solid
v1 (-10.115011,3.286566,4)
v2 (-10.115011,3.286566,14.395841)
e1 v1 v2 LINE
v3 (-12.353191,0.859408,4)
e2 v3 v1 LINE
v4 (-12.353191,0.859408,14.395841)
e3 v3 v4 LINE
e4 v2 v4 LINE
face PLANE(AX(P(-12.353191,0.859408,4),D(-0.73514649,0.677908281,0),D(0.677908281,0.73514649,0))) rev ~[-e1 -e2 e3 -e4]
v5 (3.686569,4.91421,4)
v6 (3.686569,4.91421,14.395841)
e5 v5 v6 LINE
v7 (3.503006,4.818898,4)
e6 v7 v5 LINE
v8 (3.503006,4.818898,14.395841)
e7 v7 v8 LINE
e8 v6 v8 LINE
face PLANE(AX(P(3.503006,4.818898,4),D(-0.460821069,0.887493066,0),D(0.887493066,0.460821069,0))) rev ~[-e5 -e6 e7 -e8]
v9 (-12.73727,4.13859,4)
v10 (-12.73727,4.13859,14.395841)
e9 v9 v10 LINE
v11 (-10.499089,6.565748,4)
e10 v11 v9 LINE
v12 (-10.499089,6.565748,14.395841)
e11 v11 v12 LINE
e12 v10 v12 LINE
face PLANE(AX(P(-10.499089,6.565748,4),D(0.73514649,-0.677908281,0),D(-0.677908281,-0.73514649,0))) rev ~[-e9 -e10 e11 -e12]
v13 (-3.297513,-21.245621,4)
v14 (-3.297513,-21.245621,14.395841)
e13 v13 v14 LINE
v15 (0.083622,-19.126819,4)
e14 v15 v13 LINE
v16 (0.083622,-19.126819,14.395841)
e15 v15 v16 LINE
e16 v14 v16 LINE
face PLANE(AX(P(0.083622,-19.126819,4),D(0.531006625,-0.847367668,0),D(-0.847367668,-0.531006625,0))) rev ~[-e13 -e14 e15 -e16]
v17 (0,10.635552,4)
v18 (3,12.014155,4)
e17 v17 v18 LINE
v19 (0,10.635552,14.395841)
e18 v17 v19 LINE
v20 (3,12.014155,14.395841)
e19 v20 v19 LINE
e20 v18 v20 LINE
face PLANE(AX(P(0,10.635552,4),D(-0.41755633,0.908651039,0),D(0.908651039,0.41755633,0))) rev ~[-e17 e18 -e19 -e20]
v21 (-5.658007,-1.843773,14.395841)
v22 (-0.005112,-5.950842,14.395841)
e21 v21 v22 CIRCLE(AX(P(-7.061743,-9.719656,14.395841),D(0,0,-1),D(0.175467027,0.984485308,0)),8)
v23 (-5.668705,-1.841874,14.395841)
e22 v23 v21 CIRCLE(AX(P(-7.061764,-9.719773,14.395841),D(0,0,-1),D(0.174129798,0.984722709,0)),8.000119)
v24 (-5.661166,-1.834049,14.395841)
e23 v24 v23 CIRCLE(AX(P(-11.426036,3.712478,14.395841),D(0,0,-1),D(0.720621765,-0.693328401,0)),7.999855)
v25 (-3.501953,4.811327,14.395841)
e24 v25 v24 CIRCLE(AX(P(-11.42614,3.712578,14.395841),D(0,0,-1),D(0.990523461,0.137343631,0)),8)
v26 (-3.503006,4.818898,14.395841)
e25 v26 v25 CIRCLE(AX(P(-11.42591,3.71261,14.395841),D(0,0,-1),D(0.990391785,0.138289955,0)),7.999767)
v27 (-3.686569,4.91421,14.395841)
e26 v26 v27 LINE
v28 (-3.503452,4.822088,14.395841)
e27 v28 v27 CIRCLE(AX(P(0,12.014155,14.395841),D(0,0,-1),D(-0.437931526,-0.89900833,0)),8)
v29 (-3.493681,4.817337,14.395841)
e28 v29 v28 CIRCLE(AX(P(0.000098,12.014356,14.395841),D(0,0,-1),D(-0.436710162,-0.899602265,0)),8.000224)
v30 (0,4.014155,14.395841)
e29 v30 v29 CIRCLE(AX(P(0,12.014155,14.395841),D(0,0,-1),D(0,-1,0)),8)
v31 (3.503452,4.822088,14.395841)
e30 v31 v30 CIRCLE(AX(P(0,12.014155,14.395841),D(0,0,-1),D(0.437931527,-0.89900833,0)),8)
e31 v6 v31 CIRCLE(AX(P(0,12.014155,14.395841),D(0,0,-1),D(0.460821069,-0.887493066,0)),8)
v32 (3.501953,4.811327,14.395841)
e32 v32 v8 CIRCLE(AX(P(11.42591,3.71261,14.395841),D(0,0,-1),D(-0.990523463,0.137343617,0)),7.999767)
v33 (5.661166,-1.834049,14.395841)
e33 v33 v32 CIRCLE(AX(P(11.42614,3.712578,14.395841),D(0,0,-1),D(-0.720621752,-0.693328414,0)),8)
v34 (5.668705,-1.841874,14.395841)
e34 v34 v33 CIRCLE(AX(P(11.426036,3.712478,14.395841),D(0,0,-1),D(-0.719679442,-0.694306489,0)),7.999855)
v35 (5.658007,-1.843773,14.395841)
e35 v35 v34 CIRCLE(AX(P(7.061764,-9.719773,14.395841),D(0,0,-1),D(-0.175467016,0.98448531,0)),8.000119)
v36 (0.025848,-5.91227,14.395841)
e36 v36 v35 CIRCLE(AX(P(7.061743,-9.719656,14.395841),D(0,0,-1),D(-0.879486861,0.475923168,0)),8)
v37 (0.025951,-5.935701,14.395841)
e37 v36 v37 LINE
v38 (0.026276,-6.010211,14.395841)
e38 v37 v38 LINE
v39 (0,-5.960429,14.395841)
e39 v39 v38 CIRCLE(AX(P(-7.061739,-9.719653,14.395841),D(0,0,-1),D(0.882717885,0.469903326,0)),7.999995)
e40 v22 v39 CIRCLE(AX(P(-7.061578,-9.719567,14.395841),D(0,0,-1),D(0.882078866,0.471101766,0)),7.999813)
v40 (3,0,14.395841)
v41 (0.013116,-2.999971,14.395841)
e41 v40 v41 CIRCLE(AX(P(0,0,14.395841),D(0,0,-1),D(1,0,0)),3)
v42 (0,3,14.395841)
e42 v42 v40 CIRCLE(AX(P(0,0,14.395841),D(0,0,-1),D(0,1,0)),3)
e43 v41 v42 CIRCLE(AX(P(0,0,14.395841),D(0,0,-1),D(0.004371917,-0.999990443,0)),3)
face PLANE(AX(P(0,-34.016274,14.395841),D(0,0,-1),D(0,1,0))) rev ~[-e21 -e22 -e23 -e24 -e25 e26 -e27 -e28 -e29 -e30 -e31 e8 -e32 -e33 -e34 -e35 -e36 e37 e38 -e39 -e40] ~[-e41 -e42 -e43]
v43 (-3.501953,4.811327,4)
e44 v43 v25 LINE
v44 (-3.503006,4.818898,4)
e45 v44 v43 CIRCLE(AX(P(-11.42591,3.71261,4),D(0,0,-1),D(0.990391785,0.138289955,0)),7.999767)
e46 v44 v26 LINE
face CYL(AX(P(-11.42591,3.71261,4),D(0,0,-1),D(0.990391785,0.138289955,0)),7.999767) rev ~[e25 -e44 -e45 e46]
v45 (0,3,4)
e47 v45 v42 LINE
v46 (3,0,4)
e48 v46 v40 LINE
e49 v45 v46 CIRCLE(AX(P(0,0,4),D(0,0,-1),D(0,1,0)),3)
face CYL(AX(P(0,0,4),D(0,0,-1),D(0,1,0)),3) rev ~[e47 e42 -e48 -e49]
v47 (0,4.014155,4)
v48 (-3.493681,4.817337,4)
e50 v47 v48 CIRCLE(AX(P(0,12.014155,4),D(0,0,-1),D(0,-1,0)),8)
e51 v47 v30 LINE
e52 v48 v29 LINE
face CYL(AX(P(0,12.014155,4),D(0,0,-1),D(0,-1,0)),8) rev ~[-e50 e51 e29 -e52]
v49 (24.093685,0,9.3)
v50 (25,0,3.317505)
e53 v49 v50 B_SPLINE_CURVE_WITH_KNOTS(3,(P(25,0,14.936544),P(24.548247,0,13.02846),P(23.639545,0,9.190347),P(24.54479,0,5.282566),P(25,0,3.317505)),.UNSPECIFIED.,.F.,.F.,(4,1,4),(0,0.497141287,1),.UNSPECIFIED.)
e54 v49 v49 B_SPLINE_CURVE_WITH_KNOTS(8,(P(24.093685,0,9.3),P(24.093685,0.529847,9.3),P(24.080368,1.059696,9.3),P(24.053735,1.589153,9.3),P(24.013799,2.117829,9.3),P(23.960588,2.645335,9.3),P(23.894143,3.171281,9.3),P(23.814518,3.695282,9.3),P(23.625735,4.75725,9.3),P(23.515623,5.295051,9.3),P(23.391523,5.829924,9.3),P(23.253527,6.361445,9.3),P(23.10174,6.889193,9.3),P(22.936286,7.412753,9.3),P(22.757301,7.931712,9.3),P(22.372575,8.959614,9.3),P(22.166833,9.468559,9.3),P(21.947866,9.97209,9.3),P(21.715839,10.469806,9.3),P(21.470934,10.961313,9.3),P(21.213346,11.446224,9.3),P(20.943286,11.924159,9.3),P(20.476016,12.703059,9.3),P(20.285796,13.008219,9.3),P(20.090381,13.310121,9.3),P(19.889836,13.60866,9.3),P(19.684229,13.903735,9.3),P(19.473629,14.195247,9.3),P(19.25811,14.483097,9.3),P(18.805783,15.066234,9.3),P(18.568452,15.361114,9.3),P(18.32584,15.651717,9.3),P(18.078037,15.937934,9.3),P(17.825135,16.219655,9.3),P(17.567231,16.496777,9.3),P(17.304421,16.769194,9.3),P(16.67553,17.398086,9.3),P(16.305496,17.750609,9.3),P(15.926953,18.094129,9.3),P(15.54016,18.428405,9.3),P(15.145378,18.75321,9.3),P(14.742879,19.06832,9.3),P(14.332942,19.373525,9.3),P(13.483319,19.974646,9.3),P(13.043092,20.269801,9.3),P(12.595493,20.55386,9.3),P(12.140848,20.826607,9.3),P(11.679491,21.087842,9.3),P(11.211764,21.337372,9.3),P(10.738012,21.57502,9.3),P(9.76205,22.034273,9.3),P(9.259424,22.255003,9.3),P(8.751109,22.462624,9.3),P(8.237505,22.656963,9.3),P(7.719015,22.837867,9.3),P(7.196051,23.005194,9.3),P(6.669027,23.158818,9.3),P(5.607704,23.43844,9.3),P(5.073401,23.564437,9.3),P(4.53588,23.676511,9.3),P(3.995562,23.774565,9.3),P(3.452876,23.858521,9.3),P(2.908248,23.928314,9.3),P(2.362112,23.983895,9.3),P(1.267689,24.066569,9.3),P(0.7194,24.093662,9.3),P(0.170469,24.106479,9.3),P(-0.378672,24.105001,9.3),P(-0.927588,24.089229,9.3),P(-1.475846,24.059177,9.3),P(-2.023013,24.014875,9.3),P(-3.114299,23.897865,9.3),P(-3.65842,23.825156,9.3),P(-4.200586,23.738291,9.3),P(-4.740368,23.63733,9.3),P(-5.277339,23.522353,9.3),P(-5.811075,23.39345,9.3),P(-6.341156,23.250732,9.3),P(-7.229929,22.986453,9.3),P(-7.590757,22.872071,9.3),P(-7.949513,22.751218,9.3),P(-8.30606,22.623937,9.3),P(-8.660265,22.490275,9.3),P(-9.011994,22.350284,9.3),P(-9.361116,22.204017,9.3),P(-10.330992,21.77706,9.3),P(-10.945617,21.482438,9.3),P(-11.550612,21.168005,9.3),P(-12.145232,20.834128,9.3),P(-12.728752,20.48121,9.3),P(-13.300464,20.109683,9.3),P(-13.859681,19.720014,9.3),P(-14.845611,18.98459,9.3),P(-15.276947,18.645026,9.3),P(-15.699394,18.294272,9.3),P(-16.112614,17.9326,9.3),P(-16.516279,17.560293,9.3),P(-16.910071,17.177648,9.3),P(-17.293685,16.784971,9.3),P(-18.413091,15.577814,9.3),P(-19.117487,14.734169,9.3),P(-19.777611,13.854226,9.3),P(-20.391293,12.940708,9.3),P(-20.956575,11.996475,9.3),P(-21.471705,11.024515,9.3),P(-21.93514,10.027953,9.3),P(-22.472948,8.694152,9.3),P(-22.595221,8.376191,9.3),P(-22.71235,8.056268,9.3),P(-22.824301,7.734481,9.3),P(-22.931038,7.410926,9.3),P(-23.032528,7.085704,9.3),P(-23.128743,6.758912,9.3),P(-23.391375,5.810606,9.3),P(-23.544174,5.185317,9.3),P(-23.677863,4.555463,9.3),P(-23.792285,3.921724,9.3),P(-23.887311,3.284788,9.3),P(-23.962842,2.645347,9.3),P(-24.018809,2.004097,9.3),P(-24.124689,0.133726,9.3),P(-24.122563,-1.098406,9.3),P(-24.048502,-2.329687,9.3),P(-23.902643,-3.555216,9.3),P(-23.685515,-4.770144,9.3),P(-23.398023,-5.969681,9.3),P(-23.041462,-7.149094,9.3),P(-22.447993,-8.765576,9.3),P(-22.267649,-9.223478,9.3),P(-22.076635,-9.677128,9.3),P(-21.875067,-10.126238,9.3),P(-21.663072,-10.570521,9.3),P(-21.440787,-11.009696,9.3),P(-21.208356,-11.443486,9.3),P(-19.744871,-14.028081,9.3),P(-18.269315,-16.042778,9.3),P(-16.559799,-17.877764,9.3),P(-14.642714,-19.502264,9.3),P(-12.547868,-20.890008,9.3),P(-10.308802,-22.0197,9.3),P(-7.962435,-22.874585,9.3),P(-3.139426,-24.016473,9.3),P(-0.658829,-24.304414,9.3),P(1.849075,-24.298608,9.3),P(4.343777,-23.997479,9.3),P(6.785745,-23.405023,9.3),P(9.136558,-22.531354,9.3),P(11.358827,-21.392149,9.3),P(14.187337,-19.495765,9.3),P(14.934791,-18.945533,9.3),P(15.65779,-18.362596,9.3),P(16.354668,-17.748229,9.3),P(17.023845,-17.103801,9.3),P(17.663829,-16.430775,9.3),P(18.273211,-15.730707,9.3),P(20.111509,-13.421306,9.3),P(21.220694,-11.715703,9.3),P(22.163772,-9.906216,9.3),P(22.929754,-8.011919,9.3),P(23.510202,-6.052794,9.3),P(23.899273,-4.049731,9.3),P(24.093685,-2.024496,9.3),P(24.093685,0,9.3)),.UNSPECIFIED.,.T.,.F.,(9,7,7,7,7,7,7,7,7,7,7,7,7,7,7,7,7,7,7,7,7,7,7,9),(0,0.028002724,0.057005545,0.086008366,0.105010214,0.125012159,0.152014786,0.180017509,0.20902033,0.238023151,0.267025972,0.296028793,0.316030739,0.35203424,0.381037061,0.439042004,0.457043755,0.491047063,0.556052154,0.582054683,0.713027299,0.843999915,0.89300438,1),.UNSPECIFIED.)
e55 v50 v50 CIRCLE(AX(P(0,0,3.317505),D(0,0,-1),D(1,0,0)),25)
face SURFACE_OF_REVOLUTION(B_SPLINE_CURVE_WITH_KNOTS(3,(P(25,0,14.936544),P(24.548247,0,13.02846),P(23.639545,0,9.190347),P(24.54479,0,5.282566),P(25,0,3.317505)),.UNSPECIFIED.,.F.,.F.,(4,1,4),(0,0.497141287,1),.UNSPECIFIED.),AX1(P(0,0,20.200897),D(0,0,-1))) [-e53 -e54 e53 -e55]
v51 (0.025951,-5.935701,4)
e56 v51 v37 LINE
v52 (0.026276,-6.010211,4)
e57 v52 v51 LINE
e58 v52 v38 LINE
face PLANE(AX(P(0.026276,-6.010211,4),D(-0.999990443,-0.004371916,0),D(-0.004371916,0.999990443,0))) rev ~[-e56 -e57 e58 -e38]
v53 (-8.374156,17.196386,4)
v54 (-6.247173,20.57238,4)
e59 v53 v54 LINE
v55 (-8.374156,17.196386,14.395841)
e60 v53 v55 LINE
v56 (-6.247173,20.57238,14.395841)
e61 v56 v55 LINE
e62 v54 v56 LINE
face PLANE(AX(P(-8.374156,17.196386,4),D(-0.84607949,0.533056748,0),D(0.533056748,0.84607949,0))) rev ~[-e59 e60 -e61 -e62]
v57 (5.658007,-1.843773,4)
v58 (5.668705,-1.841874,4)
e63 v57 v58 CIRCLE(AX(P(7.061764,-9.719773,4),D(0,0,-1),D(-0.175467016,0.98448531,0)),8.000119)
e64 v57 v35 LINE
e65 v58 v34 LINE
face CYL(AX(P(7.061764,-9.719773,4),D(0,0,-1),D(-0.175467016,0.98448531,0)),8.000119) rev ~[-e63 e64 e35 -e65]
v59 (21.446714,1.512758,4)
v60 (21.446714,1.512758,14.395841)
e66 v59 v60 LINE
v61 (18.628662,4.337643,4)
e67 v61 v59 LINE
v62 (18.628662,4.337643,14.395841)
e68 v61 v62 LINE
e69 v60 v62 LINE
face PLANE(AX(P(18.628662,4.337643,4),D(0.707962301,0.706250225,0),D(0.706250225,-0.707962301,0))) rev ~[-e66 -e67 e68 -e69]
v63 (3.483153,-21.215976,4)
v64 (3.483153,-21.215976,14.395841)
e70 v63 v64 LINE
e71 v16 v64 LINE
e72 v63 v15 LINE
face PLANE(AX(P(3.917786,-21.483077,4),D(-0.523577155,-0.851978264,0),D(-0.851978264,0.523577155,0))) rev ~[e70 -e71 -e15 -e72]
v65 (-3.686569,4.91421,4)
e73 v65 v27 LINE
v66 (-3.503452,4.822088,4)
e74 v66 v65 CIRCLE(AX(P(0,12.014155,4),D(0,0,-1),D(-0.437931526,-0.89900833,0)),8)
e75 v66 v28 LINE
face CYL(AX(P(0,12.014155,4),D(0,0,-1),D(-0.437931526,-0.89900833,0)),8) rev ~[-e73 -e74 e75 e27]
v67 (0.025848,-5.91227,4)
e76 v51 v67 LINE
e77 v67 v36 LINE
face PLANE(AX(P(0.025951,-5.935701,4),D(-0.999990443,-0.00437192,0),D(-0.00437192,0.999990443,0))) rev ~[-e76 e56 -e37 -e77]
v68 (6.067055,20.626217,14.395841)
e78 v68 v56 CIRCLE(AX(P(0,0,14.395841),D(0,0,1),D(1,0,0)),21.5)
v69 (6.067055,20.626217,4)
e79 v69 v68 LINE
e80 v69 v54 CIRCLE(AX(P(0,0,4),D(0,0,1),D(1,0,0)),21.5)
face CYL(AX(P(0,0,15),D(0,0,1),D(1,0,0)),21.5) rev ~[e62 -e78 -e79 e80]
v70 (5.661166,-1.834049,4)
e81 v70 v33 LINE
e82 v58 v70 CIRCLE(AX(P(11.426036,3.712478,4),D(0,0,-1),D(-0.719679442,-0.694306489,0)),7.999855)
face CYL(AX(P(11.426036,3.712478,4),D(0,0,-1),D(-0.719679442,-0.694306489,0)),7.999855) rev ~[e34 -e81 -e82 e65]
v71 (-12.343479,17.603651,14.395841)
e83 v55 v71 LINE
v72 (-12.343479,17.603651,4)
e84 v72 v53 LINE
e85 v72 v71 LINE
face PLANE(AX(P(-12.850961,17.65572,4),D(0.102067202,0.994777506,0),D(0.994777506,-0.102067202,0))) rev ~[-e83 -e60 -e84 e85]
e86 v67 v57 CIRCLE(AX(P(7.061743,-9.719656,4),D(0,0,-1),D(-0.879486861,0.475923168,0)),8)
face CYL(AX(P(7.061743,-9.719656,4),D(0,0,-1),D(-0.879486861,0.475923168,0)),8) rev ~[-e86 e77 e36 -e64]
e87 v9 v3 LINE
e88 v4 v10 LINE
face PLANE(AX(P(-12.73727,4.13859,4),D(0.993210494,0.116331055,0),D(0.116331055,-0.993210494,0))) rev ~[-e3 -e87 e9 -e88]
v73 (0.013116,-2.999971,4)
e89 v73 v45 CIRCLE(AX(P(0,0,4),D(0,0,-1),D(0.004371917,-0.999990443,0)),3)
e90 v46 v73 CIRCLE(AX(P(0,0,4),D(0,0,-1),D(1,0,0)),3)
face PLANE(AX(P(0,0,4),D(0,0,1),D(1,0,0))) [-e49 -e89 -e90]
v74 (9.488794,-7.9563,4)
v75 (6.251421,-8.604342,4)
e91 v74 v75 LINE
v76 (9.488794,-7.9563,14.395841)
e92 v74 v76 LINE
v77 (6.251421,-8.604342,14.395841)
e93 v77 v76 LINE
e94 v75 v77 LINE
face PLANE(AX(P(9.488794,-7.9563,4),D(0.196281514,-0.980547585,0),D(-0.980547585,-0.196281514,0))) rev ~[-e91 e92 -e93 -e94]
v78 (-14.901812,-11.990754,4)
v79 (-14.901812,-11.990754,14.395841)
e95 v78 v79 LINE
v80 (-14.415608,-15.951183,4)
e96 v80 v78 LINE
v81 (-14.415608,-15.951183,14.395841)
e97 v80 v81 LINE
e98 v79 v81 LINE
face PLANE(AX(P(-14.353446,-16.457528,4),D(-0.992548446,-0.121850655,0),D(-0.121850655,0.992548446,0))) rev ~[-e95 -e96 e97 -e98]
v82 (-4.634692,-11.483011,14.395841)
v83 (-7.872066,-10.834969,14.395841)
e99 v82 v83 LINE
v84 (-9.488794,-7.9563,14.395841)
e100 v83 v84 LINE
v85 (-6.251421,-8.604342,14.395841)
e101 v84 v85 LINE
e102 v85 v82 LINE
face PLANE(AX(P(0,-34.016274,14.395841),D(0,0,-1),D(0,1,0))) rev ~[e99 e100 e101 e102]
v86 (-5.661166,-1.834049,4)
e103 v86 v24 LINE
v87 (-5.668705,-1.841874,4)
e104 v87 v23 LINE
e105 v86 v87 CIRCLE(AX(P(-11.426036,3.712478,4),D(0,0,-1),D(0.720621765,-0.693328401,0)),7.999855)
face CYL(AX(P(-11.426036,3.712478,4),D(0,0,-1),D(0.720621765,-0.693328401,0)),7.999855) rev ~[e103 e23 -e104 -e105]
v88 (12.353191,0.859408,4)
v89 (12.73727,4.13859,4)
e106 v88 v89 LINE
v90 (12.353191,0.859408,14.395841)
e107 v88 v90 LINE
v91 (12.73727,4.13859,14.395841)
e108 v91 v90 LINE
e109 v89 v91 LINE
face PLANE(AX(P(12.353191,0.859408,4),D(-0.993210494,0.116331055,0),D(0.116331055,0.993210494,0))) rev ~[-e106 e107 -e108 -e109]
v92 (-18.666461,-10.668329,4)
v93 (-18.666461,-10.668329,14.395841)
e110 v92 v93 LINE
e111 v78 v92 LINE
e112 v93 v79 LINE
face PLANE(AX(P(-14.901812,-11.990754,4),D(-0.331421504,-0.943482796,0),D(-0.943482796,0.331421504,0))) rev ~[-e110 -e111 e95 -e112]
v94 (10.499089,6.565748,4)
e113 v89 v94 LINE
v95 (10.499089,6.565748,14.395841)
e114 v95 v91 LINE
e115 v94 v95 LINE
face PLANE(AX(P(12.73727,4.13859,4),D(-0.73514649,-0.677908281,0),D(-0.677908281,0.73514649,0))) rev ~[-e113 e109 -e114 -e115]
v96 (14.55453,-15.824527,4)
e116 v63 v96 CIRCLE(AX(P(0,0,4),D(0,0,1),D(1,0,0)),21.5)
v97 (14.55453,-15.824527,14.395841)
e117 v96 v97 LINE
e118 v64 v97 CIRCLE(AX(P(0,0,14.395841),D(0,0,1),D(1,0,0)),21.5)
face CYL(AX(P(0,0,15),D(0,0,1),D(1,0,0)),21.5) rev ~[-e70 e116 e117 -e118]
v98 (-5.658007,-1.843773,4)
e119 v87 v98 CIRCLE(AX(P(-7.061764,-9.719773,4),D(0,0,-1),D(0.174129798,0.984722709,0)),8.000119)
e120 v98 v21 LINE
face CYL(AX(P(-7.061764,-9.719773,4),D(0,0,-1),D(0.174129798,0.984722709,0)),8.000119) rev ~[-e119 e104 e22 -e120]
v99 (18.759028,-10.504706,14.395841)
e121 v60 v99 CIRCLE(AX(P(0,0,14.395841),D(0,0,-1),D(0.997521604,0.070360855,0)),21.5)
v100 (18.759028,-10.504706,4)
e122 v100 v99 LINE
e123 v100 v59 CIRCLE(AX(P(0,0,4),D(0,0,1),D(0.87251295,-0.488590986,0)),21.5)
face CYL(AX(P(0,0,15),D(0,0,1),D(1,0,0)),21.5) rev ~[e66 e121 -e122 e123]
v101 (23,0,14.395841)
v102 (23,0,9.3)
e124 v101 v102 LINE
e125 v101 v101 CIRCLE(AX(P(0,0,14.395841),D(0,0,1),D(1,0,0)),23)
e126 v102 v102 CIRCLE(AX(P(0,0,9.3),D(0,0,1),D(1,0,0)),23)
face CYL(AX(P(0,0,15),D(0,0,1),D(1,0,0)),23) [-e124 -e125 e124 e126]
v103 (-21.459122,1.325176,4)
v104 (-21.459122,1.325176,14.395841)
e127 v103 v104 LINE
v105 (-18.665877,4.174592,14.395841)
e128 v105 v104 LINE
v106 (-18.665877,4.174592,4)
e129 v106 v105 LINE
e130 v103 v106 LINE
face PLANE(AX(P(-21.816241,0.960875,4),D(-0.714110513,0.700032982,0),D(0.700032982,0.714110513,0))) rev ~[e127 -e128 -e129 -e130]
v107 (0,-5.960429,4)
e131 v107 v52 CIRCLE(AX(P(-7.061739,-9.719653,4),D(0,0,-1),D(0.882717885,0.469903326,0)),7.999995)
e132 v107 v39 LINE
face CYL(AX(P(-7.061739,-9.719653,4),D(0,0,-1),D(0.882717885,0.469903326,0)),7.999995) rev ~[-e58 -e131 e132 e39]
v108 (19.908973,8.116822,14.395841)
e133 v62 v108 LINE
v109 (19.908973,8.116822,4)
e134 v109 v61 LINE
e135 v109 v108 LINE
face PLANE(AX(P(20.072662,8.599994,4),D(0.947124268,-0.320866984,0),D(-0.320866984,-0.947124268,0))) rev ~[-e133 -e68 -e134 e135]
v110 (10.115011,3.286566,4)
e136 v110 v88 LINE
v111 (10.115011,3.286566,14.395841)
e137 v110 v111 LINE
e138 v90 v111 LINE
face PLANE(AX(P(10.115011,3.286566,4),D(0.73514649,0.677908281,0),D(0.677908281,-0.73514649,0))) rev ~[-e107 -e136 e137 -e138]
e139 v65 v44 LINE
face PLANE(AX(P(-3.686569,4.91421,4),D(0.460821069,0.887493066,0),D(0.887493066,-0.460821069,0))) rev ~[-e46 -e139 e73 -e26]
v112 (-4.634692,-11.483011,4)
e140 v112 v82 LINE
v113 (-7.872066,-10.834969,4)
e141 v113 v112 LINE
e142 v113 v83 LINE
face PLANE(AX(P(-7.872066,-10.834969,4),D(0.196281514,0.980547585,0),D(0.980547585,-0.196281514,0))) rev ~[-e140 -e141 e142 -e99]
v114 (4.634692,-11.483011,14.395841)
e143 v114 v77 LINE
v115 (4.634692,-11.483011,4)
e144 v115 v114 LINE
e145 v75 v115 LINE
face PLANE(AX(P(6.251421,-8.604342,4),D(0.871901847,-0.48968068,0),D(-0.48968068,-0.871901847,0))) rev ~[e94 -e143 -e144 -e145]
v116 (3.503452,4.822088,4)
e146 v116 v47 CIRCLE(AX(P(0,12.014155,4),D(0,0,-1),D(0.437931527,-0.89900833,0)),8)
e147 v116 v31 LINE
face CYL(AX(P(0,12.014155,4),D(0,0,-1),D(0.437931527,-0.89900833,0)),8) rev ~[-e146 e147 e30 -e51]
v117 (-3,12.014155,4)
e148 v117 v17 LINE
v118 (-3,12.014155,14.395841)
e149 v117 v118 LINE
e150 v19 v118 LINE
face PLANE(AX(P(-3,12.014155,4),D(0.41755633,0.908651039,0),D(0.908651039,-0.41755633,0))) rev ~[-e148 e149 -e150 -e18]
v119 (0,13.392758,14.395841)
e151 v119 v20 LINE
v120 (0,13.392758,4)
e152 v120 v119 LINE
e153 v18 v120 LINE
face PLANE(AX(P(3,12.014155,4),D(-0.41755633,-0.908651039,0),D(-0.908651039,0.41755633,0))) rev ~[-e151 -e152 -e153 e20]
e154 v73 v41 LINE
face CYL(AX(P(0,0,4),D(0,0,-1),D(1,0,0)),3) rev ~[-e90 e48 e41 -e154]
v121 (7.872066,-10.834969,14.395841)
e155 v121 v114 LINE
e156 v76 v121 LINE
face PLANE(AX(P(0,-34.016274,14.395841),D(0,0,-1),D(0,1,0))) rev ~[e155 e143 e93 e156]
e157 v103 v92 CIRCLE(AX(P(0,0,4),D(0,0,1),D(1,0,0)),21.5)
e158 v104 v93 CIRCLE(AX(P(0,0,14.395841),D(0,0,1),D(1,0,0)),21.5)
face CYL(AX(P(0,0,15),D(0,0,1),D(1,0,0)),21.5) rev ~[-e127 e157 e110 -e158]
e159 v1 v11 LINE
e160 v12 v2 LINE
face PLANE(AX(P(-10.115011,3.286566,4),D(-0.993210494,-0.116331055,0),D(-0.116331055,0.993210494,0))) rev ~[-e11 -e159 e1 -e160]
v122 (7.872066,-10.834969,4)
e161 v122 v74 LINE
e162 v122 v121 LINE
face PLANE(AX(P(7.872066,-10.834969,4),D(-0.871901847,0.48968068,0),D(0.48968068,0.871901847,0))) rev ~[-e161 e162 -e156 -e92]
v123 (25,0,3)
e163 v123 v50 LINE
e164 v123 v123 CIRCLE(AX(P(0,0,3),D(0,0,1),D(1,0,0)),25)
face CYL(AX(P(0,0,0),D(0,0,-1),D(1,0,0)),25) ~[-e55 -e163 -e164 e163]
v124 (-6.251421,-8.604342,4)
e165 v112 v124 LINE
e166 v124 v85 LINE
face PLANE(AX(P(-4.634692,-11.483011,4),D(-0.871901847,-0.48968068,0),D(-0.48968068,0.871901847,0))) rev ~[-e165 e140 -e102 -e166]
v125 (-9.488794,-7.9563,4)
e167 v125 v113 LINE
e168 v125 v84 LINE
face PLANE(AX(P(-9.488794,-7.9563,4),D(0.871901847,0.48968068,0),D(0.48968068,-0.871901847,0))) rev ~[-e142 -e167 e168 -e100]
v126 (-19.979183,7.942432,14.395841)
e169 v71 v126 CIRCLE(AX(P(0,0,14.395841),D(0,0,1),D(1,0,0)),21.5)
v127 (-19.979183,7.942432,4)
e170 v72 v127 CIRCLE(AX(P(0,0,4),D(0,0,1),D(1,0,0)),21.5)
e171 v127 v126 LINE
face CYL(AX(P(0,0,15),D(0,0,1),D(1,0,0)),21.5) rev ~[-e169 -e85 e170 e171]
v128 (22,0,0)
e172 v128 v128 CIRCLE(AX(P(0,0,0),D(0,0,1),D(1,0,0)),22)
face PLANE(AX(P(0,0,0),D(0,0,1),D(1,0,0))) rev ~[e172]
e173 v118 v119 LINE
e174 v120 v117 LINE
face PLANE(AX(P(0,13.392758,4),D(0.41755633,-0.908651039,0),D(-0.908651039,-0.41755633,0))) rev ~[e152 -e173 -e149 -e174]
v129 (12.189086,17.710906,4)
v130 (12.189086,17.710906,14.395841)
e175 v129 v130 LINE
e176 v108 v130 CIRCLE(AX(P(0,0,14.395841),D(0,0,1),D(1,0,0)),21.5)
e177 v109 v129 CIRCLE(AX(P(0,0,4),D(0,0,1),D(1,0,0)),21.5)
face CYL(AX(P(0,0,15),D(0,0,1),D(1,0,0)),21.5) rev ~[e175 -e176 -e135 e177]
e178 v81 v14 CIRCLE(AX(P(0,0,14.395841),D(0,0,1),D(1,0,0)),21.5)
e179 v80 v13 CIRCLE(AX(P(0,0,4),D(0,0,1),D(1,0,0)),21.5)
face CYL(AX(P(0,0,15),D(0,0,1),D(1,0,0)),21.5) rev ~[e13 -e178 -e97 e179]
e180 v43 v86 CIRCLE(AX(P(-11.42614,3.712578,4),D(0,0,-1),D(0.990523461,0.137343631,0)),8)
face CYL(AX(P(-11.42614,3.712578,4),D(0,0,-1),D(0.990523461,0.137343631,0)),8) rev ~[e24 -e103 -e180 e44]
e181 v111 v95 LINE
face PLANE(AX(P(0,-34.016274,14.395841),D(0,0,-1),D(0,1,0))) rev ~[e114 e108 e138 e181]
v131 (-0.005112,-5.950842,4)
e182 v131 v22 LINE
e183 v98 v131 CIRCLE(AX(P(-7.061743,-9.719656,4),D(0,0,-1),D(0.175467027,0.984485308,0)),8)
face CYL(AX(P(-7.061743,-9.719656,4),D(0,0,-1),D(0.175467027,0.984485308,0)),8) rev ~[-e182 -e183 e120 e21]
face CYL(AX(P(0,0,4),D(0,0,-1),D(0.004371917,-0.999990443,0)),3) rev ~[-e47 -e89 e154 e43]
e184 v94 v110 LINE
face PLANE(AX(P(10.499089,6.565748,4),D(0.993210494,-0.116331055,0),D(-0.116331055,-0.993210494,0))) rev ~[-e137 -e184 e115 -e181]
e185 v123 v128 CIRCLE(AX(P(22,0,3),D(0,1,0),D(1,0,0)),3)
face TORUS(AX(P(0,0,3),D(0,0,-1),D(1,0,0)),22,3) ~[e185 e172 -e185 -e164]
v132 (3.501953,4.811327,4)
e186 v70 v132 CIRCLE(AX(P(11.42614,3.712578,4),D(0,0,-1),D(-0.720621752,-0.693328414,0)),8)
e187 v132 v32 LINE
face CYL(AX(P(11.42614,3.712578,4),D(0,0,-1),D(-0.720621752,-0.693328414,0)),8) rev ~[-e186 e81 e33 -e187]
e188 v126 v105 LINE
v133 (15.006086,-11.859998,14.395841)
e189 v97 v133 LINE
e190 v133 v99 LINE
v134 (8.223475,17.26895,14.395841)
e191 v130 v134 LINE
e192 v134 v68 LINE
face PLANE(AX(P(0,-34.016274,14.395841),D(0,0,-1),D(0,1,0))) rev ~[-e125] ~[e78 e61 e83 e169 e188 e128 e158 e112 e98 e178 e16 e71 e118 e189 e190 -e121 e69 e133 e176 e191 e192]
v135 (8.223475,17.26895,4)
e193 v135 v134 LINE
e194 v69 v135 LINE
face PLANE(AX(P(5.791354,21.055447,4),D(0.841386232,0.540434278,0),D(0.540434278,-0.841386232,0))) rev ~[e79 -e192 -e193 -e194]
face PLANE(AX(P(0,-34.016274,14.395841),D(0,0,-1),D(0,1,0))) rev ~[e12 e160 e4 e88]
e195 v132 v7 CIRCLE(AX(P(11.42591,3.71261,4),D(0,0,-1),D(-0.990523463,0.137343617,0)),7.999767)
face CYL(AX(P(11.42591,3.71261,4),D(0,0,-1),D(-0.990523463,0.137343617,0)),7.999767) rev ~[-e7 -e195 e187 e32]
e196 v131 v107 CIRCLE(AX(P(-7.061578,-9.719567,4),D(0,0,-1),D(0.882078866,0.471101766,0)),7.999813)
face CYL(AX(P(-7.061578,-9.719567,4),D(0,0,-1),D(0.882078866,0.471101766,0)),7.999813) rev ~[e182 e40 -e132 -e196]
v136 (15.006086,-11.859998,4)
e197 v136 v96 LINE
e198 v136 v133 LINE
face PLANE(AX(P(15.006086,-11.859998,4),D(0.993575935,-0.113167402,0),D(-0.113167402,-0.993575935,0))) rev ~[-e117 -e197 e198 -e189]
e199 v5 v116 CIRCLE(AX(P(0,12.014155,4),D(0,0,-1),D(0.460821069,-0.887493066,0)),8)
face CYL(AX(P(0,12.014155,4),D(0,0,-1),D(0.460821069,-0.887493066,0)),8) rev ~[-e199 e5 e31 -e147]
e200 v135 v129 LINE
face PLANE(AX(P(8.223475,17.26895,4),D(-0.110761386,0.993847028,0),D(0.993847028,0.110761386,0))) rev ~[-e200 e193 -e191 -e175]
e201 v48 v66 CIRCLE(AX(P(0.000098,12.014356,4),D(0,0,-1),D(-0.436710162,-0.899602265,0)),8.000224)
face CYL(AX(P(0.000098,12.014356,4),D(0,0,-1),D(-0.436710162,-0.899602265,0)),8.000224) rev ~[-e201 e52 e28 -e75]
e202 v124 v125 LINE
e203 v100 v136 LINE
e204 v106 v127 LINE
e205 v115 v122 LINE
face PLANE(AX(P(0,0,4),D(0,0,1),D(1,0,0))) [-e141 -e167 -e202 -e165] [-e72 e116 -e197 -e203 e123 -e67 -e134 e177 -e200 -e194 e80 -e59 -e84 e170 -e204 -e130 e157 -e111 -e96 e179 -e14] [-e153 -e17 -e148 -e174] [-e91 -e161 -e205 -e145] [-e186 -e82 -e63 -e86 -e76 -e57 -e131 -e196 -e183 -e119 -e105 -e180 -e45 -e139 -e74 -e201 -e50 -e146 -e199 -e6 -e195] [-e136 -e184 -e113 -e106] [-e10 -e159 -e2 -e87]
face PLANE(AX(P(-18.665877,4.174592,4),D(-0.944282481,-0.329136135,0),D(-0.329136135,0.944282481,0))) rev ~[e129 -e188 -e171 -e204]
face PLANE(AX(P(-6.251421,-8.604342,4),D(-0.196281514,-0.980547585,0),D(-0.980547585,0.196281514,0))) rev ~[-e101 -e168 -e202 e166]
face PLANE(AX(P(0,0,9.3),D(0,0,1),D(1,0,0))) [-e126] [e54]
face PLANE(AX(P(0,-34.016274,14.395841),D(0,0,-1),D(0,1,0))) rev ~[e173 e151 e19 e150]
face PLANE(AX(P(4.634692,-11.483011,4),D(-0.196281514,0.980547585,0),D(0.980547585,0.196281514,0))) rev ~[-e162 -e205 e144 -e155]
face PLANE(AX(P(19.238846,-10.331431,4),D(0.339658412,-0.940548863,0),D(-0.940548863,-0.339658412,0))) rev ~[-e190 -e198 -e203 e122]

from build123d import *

# Parameters (mm, degrees)
F0_R      = 25
F1_DEPTH  = 15
F2_R      = 3
F5_R      = 21.5
F6_DEPTH  = 11
F8_DEPTH  = 10.8
F9_R      = 26.2697313625
F9_R_2    = 23
F10_DEPTH = 5.7
F11_W     = 62.843285501
F11_H     = 17.6012022421
F12_DEPTH = 30


with BuildPart() as f1:
    # F0 (on Top) → F1 (new body)
    with BuildSketch(Plane.XY):
        Circle(F0_R)
    extrude(amount=F1_DEPTH)

    # F2
    f2_edges = [f1.edges().sort_by_distance(p)[0] for p in [
        (-25, 0, 0),
    ]]
    fillet(f2_edges, radius=F2_R)

    # F3 (on Front) → F4 (revolve, cut)
    with BuildSketch(Plane.XZ):
        with BuildLine():
            Line((27.423677966, 5.2825664575), (25, 14.9365440011))
            add(Edge.make_bspline(
                [(25, 14.9365440011), (24.5482466845, 13.0284596048), (23.6395446157, 9.1903466819), (24.5447896478, 5.2825664575), (25, 3.3175051212)],
                knots=[0, 0, 0, 0, 0.4971412865, 1, 1, 1, 1], degree=3))
            Line((25, 3.3175051212), (27.423677966, 5.2825664575))
        make_face()
    revolve(axis=Axis((0, 0, 20.2008970082), (0, 0, -1)), mode=Mode.SUBTRACT)

    # F5 (on face) → F6 (cut)
    with BuildSketch(Plane.XY.offset(15)):
        Circle(F5_R)
    extrude(amount=-F6_DEPTH, mode=Mode.SUBTRACT)

    # F7 (on face) → F8 (join)
    with BuildSketch(Plane.XY.offset(4)):
        with BuildLine():
            Line((-3.5030060365, 4.8188975732), (-3.5, 4.8173367216))
            Line((-3.5, 4.8173367216), (-3.4936811056, 4.8173367216))
            ThreePointArc((-3.4936811056, 4.8173367216), (-3.4985674675, 4.8197108468), (-3.5034522162, 4.8220882896))
            ThreePointArc((-3.5034522162, 4.8220882896), (-3.5032289657, 4.8204929538), (-3.5030060365, 4.8188975732))
        make_face()
        with BuildLine():
            Line((-3.5019526458, 4.8113270959), (-3.5, 4.8173367216))
            Line((-3.5, 4.8173367216), (-3.5030060365, 4.8188975732))
            ThreePointArc((-3.5030060365, 4.8188975732), (-3.502478437, 4.8151124604), (-3.5019526458, 4.8113270959))
        make_face()
        with BuildLine():
            Line((-3.4936811056, 4.8173367216), (-3.5, 4.8173367216))
            Line((-3.5, 4.8173367216), (-3.5019526458, 4.8113270959))
            ThreePointArc((-3.5019526458, 4.8113270959), (-3.8176882042, 1.2404420916), (-5.6611663149, -1.8340492667))
            Line((-5.6611663149, -1.8340492667), (-5.6631189606, -1.8400588924))
            Line((-5.6631189606, -1.8400588924), (-5.6580068676, -1.8437730454))
            ThreePointArc((-5.6580068676, -1.8437730454), (-2.3594610686, -3.2475195569), (-0.005112093, -5.9508415055))
            Line((-0.005112093, -5.9508415055), (0, -5.9545556585))
            Line((0, -5.9545556585), (0.005112093, -5.9508415055))
            ThreePointArc((0.005112093, -5.9508415055), (0.0154537536, -5.9315416501), (0.025848199, -5.912270172))
            Line((0.025848199, -5.912270172), (0.0131157498, -2.9999713294))
            ThreePointArc((0.0131157498, -2.9999713294), (-2.9999928323, -0.0065578905), (0, 3))
            Line((0, 3), (0, 4.0141549306))
            ThreePointArc((0, 4.0141549306), (-1.7924082025, 4.2175356096), (-3.4936811056, 4.8173367216))
        make_face()
        Polygon((-3, 12.0141549306), (0, 10.6355519965), (0, 12.0141549306), (3, 12.0141549306), (0, 13.3927578647), align=None)
        Polygon((0, 12.0141549306), (0, 10.6355519965), (3, 12.0141549306), align=None)
        Polygon((3.9177863585, -21.4830770759), (0.0836216544, -19.1268185495), (0.0939962066, -21.4997945272), align=None)
        Polygon((0.0939962066, -21.4997945272), (0.0836216544, -19.1268185495), (-3.7297939454, -21.5165119786), align=None)
        with BuildLine():
            Line((-3.6865685479, 4.9142103997), (-3.5030060365, 4.8188975732))
            ThreePointArc((-3.5030060365, 4.8188975732), (-3.5032289657, 4.8204929538), (-3.5034522162, 4.8220882896))
            ThreePointArc((-3.5034522162, 4.8220882896), (-3.5953054485, 4.8675628244), (-3.6865685479, 4.9142103997))
        make_face()
        with BuildLine():
            ThreePointArc((3.5034522162, 4.8220882896), (1.7977022656, 4.218754584), (0, 4.0141549306))
            Line((0, 4.0141549306), (0, 3))
            ThreePointArc((0, 3), (2.1213203436, 2.1213203436), (3, 0))
            ThreePointArc((3, 0), (2.1259524041, -2.1166781464), (0.0131157498, -2.9999713294))
            Line((0.0131157498, -2.9999713294), (0.025848199, -5.912270172))
            ThreePointArc((0.025848199, -5.912270172), (2.3771928926, -3.2346736711), (5.6580068676, -1.8437730454))
            Line((5.6580068676, -1.8437730454), (5.6631189606, -1.8400588924))
            Line((5.6631189606, -1.8400588924), (5.6611663149, -1.8340492667))
            ThreePointArc((5.6611663149, -1.8340492667), (3.8176882042, 1.2404420916), (3.5019526458, 4.8113270959))
            Line((3.5019526458, 4.8113270959), (3.5, 4.8173367216))
            Line((3.5, 4.8173367216), (3.5030060365, 4.8188975732))
            ThreePointArc((3.5030060365, 4.8188975732), (3.5032289657, 4.8204929538), (3.5034522162, 4.8220882896))
        make_face()
        with BuildLine():
            Line((-5.6631189606, -1.8400588924), (-5.6611663149, -1.8340492667))
            ThreePointArc((-5.6611663149, -1.8340492667), (-5.6649342109, -1.8379628281), (-5.6687047637, -1.8418738299))
            ThreePointArc((-5.6687047637, -1.8418738299), (-5.6633554933, -1.8428216215), (-5.6580068676, -1.8437730454))
            Line((-5.6580068676, -1.8437730454), (-5.6631189606, -1.8400588924))
        make_face()
        with BuildLine():
            ThreePointArc((3.6865685479, 4.9142103997), (3.5953054485, 4.8675628244), (3.5034522162, 4.8220882896))
            ThreePointArc((3.5034522162, 4.8220882896), (3.5032289657, 4.8204929538), (3.5030060365, 4.8188975732))
            Line((3.5030060365, 4.8188975732), (3.6865685479, 4.9142103997))
        make_face()
        with BuildLine():
            ThreePointArc((3.5019526458, 4.8113270959), (3.502478437, 4.8151124604), (3.5030060365, 4.8188975732))
            Line((3.5030060365, 4.8188975732), (3.5, 4.8173367216))
            Line((3.5, 4.8173367216), (3.5019526458, 4.8113270959))
        make_face()
        with BuildLine():
            Line((0.0259506395, -5.9357014153), (0.025848199, -5.912270172))
            ThreePointArc((0.025848199, -5.912270172), (0.0154537536, -5.9315416501), (0.005112093, -5.9508415055))
            Line((0.005112093, -5.9508415055), (0.0259506395, -5.9357014153))
        make_face()
        with BuildLine():
            Line((0, -5.9545556585), (-0.005112093, -5.9508415055))
            ThreePointArc((-0.005112093, -5.9508415055), (-0.0025544188, -5.9556343446), (0, -5.9604289194))
            ThreePointArc((0, -5.9604289194), (0.0025544188, -5.9556343446), (0.005112093, -5.9508415055))
            Line((0.005112093, -5.9508415055), (0, -5.9545556585))
        make_face()
        with BuildLine():
            ThreePointArc((5.6687047637, -1.8418738299), (5.6649342109, -1.8379628281), (5.6611663149, -1.8340492667))
            Line((5.6611663149, -1.8340492667), (5.6631189606, -1.8400588924))
            Line((5.6631189606, -1.8400588924), (5.6580068676, -1.8437730454))
            ThreePointArc((5.6580068676, -1.8437730454), (5.6633554933, -1.8428216215), (5.6687047637, -1.8418738299))
        make_face()
        with BuildLine():
            Line((0.0259506395, -5.9357014153), (0.005112093, -5.9508415055))
            ThreePointArc((0.005112093, -5.9508415055), (0.0025544188, -5.9556343446), (0, -5.9604289194))
            ThreePointArc((0, -5.9604289194), (0.0131819815, -5.9852967616), (0.0262763915, -6.0102108267))
            Line((0.0262763915, -6.0102108267), (0.0259506395, -5.9357014153))
        make_face()
        Polygon((-12.7372696383, 4.1385897817), (-12.3531913176, 0.8594084977), (-10.1150110307, 3.2865663115), (-10.4990893514, 6.5657475955), align=None)
        Polygon((-7.8720655604, -10.8349687141), (-4.6346921038, -11.4830112688), (-6.2514206135, -8.6043423098), (-9.4887940701, -7.956299755), align=None)
        Polygon((7.8720655604, -10.8349687141), (9.4887940701, -7.956299755), (6.2514206135, -8.6043423098), (4.6346921038, -11.4830112688), align=None)
        Polygon((12.7372696383, 4.1385897817), (10.4990893514, 6.5657475955), (10.1150110307, 3.2865663115), (12.3531913176, 0.8594084977), align=None)
        Polygon((16.8678219042, -13.3314134363), (19.2388458386, -10.3314307527), (15.0060861502, -11.8599982656), (14.4967979698, -16.3313961198), align=None)
        Polygon((20.9398336671, 4.8757938835), (20.0726620013, 8.5999936501), (18.6286617065, 4.3376426122), (21.8070053329, 1.1515941169), align=None)
        Polygon((9.2437235839, 19.4114289609), (5.7913542693, 21.0554474264), (8.2234750424, 17.2689501312), (12.6960928985, 17.7674104954), align=None)
        Polygon((-9.4130988956, 19.3298621098), (-12.8509613495, 17.6557198378), (-8.374156057, 17.1963859791), (-5.9752364416, 21.0040043817), align=None)
        Polygon((-20.9816659144, 4.6925148326), (-21.8162409604, 0.9608751003), (-18.6658768438, 4.1745924423), (-20.1470908685, 8.424154565), align=None)
        Polygon((-16.7506105518, -13.4783918233), (-14.3534461578, -16.457528186), (-14.9018116527, -11.9907543496), (-19.1477749457, -10.4992554606), align=None)
    extrude(amount=F8_DEPTH)

    # F9 (on face) → F10 (cut)
    with BuildSketch(Plane.XY.offset(15)):
        Circle(F9_R)
        Circle(F9_R_2, mode=Mode.SUBTRACT)
    extrude(amount=-F10_DEPTH, mode=Mode.SUBTRACT)

    # F11 (on Right) → F12 (cut, symmetric)
    with BuildSketch(Plane.YZ):
        with Locations((-2.5946311653, 23.1964425184)):
            Rectangle(F11_W, F11_H)
    extrude(amount=F12_DEPTH, both=True, mode=Mode.SUBTRACT)


solid = f1.part
